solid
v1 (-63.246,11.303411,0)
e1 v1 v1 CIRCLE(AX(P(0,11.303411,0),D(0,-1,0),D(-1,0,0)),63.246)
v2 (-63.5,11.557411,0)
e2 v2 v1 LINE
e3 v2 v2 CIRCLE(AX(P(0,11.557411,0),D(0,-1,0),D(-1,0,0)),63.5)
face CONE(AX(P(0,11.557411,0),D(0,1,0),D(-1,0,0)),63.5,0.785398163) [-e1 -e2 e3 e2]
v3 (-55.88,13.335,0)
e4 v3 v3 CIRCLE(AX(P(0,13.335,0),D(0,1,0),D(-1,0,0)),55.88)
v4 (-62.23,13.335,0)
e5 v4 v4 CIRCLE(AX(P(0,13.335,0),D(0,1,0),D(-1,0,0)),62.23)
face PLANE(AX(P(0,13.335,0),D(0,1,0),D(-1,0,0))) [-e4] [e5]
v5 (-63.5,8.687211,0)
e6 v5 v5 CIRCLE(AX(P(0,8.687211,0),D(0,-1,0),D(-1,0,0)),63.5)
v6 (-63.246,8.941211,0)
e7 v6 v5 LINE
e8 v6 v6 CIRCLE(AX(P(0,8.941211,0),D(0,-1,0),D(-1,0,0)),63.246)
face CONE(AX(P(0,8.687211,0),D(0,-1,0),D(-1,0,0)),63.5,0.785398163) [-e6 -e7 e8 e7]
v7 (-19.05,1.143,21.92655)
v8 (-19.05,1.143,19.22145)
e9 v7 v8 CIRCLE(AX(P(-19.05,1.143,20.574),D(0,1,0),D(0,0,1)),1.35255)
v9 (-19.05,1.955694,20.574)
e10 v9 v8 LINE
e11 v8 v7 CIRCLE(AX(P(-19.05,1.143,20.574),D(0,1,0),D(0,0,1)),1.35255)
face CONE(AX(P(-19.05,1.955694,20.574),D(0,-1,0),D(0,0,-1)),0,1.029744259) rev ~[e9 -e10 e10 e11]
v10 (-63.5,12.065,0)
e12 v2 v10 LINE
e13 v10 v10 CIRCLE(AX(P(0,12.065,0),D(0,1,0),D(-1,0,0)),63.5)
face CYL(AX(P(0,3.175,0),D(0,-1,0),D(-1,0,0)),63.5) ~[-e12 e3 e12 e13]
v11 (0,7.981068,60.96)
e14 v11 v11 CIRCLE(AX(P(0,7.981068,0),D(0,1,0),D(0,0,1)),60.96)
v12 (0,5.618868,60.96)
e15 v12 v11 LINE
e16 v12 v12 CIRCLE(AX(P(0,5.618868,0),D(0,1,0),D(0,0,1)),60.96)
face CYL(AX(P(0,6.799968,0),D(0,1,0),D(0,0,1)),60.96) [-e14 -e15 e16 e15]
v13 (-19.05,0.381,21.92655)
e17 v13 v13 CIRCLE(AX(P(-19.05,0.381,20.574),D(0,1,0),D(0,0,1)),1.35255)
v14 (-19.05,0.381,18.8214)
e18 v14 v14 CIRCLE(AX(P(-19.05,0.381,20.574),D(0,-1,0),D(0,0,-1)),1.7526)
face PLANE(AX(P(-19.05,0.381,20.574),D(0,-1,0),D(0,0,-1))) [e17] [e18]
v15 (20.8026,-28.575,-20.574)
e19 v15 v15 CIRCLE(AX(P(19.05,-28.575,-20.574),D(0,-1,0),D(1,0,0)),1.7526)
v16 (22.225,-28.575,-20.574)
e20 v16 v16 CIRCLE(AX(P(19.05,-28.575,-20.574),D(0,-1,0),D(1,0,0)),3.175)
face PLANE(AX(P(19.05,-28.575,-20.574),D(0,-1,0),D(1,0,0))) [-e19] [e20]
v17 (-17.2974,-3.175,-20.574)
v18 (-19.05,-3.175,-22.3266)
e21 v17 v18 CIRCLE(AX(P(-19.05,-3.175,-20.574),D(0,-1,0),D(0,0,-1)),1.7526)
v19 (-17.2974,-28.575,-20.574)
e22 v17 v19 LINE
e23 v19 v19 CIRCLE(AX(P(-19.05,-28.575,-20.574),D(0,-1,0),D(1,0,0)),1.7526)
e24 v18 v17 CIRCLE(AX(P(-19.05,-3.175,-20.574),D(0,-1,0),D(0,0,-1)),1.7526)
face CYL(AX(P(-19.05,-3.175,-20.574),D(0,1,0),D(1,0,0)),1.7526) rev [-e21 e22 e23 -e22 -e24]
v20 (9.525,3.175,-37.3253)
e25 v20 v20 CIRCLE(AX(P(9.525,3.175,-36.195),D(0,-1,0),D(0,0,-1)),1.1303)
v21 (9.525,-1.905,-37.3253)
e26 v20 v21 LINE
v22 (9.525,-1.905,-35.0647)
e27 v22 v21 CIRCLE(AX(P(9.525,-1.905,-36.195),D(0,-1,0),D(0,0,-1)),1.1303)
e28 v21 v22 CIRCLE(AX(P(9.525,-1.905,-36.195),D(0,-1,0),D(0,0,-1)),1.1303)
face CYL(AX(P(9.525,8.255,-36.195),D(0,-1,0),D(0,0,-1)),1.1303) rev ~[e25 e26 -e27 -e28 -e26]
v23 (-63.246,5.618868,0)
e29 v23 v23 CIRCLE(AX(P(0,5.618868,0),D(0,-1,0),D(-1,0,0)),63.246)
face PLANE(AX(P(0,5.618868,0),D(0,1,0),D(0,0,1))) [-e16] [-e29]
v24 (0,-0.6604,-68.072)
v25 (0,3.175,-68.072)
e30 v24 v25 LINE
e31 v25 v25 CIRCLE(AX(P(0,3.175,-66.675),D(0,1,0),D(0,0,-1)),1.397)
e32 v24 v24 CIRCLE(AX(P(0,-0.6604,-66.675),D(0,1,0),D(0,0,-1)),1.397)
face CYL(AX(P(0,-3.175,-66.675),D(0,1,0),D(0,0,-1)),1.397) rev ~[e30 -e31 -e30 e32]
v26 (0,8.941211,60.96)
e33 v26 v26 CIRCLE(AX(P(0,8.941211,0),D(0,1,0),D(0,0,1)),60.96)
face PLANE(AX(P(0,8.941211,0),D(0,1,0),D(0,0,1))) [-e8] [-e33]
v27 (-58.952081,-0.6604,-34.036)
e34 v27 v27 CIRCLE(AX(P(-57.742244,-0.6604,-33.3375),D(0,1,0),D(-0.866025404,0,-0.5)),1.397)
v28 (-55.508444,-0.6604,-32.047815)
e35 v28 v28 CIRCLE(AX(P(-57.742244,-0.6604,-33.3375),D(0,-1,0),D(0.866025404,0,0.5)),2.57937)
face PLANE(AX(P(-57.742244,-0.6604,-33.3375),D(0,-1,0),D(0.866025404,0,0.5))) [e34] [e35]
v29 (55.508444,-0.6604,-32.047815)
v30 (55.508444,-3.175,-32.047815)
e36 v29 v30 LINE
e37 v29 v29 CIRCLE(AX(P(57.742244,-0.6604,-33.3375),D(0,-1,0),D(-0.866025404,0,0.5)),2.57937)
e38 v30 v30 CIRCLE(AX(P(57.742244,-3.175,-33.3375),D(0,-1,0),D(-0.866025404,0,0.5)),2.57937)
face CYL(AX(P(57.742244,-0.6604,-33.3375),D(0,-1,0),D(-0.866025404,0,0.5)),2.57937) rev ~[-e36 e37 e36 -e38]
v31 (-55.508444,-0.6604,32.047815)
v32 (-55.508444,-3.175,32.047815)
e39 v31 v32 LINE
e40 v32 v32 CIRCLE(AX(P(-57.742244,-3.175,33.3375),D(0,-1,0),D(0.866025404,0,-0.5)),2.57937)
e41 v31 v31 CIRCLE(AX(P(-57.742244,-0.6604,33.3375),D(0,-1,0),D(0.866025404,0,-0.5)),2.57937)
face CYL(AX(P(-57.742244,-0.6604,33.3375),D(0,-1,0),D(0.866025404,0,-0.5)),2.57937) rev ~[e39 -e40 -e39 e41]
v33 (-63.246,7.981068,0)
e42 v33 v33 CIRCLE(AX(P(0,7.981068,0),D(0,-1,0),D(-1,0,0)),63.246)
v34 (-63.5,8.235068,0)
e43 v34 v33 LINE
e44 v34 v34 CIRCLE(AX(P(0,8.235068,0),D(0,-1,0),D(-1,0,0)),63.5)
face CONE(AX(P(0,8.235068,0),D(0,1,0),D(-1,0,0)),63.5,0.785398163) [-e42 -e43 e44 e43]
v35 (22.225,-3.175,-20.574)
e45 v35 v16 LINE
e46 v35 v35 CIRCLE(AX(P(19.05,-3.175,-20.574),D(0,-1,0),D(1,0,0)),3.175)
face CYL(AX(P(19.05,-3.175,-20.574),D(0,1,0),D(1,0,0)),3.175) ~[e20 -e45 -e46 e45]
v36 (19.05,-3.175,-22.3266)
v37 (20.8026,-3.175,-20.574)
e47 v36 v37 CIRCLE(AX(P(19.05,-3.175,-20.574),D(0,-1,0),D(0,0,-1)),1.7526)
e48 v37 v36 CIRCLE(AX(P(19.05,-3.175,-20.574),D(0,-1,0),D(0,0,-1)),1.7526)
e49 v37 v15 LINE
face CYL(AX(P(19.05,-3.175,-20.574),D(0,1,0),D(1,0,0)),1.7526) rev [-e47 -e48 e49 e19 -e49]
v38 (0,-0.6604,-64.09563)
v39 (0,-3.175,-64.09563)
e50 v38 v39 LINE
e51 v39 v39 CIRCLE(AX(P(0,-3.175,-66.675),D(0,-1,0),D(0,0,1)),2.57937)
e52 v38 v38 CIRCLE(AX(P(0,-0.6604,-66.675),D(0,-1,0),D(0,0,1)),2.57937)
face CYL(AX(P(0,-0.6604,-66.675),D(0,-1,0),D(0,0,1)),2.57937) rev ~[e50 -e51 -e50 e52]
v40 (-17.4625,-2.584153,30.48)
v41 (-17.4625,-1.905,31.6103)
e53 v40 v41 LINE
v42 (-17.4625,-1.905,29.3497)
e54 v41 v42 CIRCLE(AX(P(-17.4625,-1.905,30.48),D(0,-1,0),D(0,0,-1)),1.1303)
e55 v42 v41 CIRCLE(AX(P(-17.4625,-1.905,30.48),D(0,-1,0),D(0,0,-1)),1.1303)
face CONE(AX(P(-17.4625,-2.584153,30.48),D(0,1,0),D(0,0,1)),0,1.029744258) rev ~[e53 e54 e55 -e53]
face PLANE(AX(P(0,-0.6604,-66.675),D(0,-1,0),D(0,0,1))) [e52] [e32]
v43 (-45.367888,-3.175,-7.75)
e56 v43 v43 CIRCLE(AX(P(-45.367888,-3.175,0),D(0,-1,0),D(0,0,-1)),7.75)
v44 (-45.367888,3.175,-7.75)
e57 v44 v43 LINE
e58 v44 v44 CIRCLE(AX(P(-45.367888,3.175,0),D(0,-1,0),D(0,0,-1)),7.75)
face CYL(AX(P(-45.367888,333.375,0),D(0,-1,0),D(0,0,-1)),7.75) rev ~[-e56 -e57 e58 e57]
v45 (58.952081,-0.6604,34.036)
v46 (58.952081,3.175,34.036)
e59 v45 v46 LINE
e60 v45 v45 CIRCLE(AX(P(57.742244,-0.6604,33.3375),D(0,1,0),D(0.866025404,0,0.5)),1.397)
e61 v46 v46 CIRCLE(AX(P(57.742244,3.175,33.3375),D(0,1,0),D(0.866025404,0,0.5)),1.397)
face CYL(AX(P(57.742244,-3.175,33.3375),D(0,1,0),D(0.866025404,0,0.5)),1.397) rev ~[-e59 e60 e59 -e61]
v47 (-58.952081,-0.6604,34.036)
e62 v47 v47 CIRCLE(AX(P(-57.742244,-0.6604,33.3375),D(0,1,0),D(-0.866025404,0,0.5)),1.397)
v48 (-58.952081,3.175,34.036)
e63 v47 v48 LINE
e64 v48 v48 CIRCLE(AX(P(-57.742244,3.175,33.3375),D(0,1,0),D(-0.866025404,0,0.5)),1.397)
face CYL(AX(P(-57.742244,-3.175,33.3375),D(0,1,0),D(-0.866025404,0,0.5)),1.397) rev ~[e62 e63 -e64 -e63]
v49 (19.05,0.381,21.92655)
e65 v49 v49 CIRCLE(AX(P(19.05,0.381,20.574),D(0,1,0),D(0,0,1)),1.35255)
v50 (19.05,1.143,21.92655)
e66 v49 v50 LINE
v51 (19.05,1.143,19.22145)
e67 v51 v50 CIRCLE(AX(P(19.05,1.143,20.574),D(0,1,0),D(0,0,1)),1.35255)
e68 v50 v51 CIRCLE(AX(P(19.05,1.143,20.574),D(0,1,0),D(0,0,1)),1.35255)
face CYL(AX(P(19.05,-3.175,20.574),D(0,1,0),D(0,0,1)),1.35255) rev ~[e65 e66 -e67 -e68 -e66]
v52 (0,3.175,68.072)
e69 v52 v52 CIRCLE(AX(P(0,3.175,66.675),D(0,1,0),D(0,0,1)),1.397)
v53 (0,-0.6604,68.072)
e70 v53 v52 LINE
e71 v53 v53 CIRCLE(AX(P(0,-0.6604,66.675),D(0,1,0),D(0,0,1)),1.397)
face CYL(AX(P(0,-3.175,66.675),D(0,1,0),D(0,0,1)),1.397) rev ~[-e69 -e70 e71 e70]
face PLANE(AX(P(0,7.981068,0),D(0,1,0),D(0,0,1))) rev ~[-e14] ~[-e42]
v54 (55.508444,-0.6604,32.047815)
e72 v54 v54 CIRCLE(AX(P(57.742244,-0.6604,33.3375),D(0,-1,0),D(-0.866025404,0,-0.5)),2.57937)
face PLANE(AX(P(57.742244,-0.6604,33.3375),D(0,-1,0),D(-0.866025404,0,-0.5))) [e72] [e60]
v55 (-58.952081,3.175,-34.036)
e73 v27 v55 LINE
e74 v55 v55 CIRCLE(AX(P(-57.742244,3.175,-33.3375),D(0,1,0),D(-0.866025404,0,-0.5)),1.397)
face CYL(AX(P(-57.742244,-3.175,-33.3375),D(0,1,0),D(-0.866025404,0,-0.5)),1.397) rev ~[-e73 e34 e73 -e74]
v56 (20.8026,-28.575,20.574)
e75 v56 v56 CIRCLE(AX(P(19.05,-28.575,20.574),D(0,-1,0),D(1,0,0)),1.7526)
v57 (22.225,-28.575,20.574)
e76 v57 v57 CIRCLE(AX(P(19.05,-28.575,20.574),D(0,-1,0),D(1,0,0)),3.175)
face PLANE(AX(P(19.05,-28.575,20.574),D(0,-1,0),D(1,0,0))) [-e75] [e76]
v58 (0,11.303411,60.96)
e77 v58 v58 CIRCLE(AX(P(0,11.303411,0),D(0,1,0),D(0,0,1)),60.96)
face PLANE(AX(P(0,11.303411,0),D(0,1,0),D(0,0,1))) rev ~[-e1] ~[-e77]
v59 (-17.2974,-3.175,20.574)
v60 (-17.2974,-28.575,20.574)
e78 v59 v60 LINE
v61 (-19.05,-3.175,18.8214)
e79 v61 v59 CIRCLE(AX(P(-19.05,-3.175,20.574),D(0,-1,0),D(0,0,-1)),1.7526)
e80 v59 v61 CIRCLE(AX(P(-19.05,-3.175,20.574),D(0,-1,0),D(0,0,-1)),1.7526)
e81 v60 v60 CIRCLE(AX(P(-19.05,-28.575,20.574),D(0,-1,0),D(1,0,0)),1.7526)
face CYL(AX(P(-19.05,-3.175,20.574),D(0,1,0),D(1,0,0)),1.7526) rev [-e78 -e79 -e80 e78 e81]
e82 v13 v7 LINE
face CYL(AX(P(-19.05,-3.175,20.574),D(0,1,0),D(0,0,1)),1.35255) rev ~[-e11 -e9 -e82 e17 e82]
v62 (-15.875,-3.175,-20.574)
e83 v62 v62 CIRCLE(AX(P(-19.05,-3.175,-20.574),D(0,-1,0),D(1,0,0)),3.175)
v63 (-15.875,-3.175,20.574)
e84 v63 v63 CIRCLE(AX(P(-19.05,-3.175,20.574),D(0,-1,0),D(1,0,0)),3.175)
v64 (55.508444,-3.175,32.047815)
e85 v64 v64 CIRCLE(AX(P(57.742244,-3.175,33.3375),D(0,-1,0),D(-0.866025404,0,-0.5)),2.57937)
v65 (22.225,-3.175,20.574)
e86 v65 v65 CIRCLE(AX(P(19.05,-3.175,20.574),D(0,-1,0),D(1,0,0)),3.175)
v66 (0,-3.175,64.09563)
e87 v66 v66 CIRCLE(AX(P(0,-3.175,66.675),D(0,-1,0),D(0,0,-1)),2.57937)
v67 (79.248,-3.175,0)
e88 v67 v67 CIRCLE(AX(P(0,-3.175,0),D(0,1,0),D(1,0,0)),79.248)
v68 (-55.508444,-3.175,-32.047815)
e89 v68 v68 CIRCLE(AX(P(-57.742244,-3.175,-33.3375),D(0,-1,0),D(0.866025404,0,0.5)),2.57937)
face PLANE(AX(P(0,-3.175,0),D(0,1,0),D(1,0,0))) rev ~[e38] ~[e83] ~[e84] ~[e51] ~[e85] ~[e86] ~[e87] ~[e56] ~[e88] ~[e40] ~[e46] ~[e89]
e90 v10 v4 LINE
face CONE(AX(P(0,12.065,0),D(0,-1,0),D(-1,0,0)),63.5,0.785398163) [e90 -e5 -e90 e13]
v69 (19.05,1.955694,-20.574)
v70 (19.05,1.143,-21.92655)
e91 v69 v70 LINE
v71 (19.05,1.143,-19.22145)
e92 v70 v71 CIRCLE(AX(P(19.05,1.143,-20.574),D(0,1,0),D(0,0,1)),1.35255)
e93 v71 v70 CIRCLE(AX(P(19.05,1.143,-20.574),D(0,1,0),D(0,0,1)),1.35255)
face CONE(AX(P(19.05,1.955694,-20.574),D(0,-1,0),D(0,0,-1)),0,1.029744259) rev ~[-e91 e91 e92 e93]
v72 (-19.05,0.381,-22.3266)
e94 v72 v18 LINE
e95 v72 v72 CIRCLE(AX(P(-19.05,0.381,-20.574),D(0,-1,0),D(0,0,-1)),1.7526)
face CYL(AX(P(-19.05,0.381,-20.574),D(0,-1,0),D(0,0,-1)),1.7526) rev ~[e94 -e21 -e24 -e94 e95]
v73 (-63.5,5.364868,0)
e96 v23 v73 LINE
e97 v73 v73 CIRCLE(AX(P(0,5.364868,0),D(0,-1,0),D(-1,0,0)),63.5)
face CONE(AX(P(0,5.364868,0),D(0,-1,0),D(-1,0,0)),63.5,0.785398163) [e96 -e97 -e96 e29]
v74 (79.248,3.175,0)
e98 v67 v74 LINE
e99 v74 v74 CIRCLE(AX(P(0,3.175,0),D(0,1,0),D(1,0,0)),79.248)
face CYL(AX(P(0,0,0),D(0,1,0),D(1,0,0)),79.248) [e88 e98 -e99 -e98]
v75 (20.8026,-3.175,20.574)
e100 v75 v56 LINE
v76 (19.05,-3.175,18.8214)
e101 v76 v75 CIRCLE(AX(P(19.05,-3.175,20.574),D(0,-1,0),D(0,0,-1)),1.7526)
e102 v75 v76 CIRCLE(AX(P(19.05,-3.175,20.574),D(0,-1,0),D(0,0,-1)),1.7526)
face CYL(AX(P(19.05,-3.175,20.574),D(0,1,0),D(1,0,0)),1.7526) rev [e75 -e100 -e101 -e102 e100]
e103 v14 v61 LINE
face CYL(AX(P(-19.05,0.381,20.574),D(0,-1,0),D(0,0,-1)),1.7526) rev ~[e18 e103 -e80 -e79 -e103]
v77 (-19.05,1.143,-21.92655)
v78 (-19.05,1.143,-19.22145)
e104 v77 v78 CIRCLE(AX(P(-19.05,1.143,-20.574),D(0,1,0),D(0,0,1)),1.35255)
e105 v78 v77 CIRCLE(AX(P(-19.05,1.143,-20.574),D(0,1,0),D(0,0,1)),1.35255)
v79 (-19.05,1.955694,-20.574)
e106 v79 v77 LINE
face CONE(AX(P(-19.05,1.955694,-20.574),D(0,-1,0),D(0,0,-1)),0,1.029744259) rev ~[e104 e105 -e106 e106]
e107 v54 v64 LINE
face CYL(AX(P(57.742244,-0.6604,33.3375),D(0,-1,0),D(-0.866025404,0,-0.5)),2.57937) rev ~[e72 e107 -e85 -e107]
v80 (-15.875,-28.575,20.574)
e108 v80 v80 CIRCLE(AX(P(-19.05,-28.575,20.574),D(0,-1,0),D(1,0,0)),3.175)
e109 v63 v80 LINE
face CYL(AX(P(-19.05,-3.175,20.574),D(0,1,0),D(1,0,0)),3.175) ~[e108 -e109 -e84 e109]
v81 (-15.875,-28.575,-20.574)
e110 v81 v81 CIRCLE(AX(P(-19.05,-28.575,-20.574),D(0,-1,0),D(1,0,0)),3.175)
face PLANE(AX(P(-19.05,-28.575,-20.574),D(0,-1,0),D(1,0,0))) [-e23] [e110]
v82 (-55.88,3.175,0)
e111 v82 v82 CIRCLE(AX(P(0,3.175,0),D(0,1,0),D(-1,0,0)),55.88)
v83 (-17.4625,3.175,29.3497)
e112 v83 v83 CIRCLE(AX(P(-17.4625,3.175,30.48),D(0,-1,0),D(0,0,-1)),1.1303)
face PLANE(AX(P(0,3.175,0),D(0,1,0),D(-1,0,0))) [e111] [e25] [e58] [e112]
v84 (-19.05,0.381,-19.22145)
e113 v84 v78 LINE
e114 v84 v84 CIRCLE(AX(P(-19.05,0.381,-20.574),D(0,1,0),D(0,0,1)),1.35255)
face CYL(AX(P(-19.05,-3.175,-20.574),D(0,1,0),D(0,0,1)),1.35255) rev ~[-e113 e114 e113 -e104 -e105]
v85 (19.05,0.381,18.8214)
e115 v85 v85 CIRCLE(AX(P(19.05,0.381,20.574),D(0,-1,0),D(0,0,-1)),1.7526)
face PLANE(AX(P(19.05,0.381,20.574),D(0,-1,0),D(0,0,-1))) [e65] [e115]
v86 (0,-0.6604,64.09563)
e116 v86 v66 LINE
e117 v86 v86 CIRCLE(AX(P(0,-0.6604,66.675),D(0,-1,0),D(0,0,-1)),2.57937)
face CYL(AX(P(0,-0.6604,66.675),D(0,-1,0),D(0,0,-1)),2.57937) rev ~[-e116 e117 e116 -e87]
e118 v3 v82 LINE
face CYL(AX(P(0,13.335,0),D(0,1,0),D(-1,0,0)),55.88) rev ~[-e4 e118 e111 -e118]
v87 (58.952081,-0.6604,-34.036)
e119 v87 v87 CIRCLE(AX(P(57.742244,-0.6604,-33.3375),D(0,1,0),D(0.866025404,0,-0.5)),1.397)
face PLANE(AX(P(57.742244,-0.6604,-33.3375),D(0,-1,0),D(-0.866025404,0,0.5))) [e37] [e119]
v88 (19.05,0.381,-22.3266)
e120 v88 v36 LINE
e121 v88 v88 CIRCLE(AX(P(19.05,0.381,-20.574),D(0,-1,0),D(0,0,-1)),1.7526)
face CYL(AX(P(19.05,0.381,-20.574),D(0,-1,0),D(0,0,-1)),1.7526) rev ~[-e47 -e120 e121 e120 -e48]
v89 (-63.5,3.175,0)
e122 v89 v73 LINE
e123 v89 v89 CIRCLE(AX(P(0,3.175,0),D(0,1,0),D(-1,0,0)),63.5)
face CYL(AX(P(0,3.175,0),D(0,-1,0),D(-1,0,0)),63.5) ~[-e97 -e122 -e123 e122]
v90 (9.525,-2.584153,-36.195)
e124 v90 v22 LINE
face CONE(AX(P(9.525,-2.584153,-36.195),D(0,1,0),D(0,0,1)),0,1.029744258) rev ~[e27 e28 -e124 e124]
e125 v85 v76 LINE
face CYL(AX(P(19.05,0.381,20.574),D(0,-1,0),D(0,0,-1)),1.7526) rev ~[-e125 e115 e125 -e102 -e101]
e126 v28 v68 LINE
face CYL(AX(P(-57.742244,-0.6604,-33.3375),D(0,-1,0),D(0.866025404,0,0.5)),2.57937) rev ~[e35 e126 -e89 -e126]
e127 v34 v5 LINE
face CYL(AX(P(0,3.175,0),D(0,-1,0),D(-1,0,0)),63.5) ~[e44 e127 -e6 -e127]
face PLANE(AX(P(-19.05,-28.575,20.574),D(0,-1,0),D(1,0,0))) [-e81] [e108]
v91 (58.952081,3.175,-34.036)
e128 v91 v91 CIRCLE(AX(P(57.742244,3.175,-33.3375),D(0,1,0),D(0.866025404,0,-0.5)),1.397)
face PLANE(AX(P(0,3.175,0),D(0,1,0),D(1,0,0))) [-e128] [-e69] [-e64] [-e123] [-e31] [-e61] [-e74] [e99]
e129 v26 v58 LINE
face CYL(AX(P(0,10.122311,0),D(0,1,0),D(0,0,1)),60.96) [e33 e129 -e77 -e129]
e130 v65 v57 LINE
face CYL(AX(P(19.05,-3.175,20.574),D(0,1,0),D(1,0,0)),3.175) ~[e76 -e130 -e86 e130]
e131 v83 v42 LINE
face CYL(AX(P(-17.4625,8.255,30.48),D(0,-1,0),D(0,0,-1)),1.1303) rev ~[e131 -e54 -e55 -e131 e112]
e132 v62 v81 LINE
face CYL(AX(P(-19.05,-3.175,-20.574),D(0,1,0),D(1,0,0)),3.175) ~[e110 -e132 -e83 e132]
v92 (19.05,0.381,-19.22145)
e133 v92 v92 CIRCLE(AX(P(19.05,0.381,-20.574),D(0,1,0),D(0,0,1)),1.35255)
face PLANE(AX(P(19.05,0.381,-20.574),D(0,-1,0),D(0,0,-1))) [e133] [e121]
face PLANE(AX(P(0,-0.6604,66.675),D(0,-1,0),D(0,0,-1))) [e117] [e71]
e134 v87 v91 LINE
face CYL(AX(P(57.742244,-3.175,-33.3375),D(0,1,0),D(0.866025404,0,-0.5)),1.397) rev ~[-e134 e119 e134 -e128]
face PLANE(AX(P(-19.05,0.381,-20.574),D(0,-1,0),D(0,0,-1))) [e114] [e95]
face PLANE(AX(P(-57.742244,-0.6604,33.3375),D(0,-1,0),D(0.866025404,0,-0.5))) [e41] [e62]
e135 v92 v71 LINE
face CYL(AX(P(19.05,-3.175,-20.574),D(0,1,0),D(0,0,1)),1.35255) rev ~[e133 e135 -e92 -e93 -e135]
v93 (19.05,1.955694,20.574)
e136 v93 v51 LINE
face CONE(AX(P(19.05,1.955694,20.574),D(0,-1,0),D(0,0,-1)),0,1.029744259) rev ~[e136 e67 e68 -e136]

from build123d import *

# Parameters (mm, degrees)
SKETCH1_R                                      = 79.248
EXTRUDE1_DEPTH                                 = 3.175
EXTRUDE1_DEPTH_BACK                            = 3.175
SKETCH2_R                                      = 63.5
EXTRUDE2_DEPTH                                 = 10.16
SKETCH4_W                                      = 2.54
SKETCH4_H                                      = 2.3622
SKETCH5_R                                      = 55.88
CUT_EXTRUDE1_DEPTH                             = 10.16
CHAMFER1_SIZE                                  = 1.27
CHAMFER2_SIZE                                  = 0.254
CBORE_FOR_3_SOCKET_HEAD_CAP_SCREW1_D           = 2.794
CBORE_FOR_3_SOCKET_HEAD_CAP_SCREW1_CBORE_D     = 5.15874
CBORE_FOR_3_SOCKET_HEAD_CAP_SCREW1_CBORE_DEPTH = 2.5146
CIRPATTERN1_COUNT                              = 6
F_4_40_TAPPED_HOLE1_D                          = 2.2606
F_4_40_TAPPED_HOLE1_DEPTH                      = 5.08
F_4_40_TAPPED_HOLE1_TIP                        = 0.679152758
M14_CLEARANCE_HOLE1_D                          = 15.5
M14_CLEARANCE_HOLE1_DEPTH                      = 330.2
M14_CLEARANCE_HOLE1_TIP                        = 4.656669797
F_6_32_TAPPED_HOLE1_D                          = 2.7051
F_6_32_TAPPED_HOLE1_DEPTH                      = 4.318
F_6_32_TAPPED_HOLE1_CBORE_D                    = 3.5052
F_6_32_TAPPED_HOLE1_CBORE_DEPTH                = 3.556
F_6_32_TAPPED_HOLE1_TIP                        = 0.81269403
SKETCH21_R                                     = 3.175
SKETCH21_R_2                                   = 1.7526
BOSS_EXTRUDE1_DEPTH                            = 25.4


with BuildPart() as part:
    # Sketch1 → Extrude1 (new body, two sides)
    with BuildSketch(Plane(origin=(0, 0, 0), x_dir=(1, 0, 0), z_dir=(0, 1, 0))) as extrude1_sk:
        Circle(SKETCH1_R)
    extrude(amount=EXTRUDE1_DEPTH)
    extrude(extrude1_sk.sketch, amount=-EXTRUDE1_DEPTH_BACK)

    # Sketch2 → Extrude2 (add)
    with BuildSketch(Plane(origin=(0, 3.175, 0), x_dir=(-1, 0, 0), z_dir=(0, 1, 0))):
        Circle(SKETCH2_R)
    extrude(amount=EXTRUDE2_DEPTH)

    # Sketch4 → Cut-Revolve7 (revolve, cut)
    with BuildSketch(Plane(origin=(0, 0, 0), x_dir=(0, 0, -1), z_dir=(1, 0, 0))):
        with Locations((-62.23, 10.122310801)):
            Rectangle(SKETCH4_W, SKETCH4_H)
        with Locations((-62.23, 6.799968424)):
            Rectangle(SKETCH4_W, SKETCH4_H)
    revolve(axis=Axis((0, -3.175, 0), (0, 1, 0)), mode=Mode.SUBTRACT)

    # Sketch5 → Cut-Extrude1 (cut)
    with BuildSketch(Plane(origin=(0, 13.335, 0), x_dir=(-1, 0, 0), z_dir=(0, 1, 0))):
        Circle(SKETCH5_R)
    extrude(amount=-CUT_EXTRUDE1_DEPTH, mode=Mode.SUBTRACT)

    # Chamfer1
    chamfer1_edges = [part.edges().sort_by_distance(p)[0] for p in [
        (63.5, 13.335, 0),
    ]]
    chamfer(chamfer1_edges, length=CHAMFER1_SIZE)

    # Chamfer2
    chamfer2_edges = [part.edges().sort_by_distance(p)[0] for p in [
        (63.5, 11.303410801, 0),
        (63.5, 8.941210801, 0),
        (63.5, 7.981068424, 0),
        (63.5, 5.618868424, 0),
    ]]
    chamfer(chamfer2_edges, length=CHAMFER2_SIZE)

    # CBORE for _3 Socket Head Cap Screw1 (through all)
    with Locations(Plane(origin=(0, -3.175, 66.675), x_dir=(0, 0, -1), z_dir=(0, -1, 0))):
        with Locations((0, 0)):
            cbore_for_3_socket_head_cap_screw1 = CounterBoreHole(CBORE_FOR_3_SOCKET_HEAD_CAP_SCREW1_D / 2, CBORE_FOR_3_SOCKET_HEAD_CAP_SCREW1_CBORE_D / 2, CBORE_FOR_3_SOCKET_HEAD_CAP_SCREW1_CBORE_DEPTH)

    # CirPattern1: CBORE for _3 Socket Head Cap Screw1 ×6 about axis
    cirpattern1_axis = Axis((0, 0, 0), (0, 1, 0))
    for i in range(1, CIRPATTERN1_COUNT):
        add(cbore_for_3_socket_head_cap_screw1.rotate(cirpattern1_axis, i * 360 / CIRPATTERN1_COUNT), mode=Mode.SUBTRACT)

    # 4-40 Tapped Hole1
    with Locations(Plane(origin=(9.525, 3.175, -36.195), x_dir=(0, 0, 1), z_dir=(0, 1, 0))):
        with Locations((0, 0), (66.675, -26.9875)):
            Hole(F_4_40_TAPPED_HOLE1_D / 2, depth=F_4_40_TAPPED_HOLE1_DEPTH)
            with Locations((0, 0, -(F_4_40_TAPPED_HOLE1_DEPTH + F_4_40_TAPPED_HOLE1_TIP / 2))):  # 118° drill point
                Cone(0, F_4_40_TAPPED_HOLE1_D / 2, F_4_40_TAPPED_HOLE1_TIP, mode=Mode.SUBTRACT)

    # M14 Clearance Hole1
    with Locations(Plane(origin=(-45.367887501, 3.175, 0), x_dir=(0, 0, 1), z_dir=(0, 1, 0))):
        with Locations((0, 0)):
            Hole(M14_CLEARANCE_HOLE1_D / 2, depth=M14_CLEARANCE_HOLE1_DEPTH)
            with Locations((0, 0, -(M14_CLEARANCE_HOLE1_DEPTH + M14_CLEARANCE_HOLE1_TIP / 2))):  # 118° drill point
                Cone(0, M14_CLEARANCE_HOLE1_D / 2, M14_CLEARANCE_HOLE1_TIP, mode=Mode.SUBTRACT)

    # 6-32 Tapped Hole1
    with Locations(Plane(origin=(-19.05, -3.175, 20.574), x_dir=(0, 0, -1), z_dir=(0, -1, 0))):
        with Locations((0, 0), (0, 38.1), (41.148, 38.1), (41.148, 0)):
            CounterBoreHole(F_6_32_TAPPED_HOLE1_D / 2, F_6_32_TAPPED_HOLE1_CBORE_D / 2, F_6_32_TAPPED_HOLE1_CBORE_DEPTH, depth=F_6_32_TAPPED_HOLE1_DEPTH)
            with Locations((0, 0, -(F_6_32_TAPPED_HOLE1_DEPTH + F_6_32_TAPPED_HOLE1_TIP / 2))):  # 118° drill point
                Cone(0, F_6_32_TAPPED_HOLE1_D / 2, F_6_32_TAPPED_HOLE1_TIP, mode=Mode.SUBTRACT)

    # Sketch21 → Boss-Extrude1 (add)
    with BuildSketch(Plane.XZ.offset(3.175)):
        with Locations((19.05, -20.574)):
            Circle(SKETCH21_R)
        with Locations((19.05, -20.574)):
            Circle(SKETCH21_R_2, mode=Mode.SUBTRACT)
        with Locations((-19.05, -20.574)):
            Circle(SKETCH21_R)
        with Locations((-19.05, -20.574)):
            Circle(SKETCH21_R_2, mode=Mode.SUBTRACT)
        with Locations((-19.05, 20.574)):
            Circle(SKETCH21_R)
        with Locations((-19.05, 20.574)):
            Circle(SKETCH21_R_2, mode=Mode.SUBTRACT)
        with Locations((19.05, 20.574)):
            Circle(SKETCH21_R)
        with Locations((19.05, 20.574)):
            Circle(SKETCH21_R_2, mode=Mode.SUBTRACT)
    extrude(amount=BOSS_EXTRUDE1_DEPTH)


solid = part.part
